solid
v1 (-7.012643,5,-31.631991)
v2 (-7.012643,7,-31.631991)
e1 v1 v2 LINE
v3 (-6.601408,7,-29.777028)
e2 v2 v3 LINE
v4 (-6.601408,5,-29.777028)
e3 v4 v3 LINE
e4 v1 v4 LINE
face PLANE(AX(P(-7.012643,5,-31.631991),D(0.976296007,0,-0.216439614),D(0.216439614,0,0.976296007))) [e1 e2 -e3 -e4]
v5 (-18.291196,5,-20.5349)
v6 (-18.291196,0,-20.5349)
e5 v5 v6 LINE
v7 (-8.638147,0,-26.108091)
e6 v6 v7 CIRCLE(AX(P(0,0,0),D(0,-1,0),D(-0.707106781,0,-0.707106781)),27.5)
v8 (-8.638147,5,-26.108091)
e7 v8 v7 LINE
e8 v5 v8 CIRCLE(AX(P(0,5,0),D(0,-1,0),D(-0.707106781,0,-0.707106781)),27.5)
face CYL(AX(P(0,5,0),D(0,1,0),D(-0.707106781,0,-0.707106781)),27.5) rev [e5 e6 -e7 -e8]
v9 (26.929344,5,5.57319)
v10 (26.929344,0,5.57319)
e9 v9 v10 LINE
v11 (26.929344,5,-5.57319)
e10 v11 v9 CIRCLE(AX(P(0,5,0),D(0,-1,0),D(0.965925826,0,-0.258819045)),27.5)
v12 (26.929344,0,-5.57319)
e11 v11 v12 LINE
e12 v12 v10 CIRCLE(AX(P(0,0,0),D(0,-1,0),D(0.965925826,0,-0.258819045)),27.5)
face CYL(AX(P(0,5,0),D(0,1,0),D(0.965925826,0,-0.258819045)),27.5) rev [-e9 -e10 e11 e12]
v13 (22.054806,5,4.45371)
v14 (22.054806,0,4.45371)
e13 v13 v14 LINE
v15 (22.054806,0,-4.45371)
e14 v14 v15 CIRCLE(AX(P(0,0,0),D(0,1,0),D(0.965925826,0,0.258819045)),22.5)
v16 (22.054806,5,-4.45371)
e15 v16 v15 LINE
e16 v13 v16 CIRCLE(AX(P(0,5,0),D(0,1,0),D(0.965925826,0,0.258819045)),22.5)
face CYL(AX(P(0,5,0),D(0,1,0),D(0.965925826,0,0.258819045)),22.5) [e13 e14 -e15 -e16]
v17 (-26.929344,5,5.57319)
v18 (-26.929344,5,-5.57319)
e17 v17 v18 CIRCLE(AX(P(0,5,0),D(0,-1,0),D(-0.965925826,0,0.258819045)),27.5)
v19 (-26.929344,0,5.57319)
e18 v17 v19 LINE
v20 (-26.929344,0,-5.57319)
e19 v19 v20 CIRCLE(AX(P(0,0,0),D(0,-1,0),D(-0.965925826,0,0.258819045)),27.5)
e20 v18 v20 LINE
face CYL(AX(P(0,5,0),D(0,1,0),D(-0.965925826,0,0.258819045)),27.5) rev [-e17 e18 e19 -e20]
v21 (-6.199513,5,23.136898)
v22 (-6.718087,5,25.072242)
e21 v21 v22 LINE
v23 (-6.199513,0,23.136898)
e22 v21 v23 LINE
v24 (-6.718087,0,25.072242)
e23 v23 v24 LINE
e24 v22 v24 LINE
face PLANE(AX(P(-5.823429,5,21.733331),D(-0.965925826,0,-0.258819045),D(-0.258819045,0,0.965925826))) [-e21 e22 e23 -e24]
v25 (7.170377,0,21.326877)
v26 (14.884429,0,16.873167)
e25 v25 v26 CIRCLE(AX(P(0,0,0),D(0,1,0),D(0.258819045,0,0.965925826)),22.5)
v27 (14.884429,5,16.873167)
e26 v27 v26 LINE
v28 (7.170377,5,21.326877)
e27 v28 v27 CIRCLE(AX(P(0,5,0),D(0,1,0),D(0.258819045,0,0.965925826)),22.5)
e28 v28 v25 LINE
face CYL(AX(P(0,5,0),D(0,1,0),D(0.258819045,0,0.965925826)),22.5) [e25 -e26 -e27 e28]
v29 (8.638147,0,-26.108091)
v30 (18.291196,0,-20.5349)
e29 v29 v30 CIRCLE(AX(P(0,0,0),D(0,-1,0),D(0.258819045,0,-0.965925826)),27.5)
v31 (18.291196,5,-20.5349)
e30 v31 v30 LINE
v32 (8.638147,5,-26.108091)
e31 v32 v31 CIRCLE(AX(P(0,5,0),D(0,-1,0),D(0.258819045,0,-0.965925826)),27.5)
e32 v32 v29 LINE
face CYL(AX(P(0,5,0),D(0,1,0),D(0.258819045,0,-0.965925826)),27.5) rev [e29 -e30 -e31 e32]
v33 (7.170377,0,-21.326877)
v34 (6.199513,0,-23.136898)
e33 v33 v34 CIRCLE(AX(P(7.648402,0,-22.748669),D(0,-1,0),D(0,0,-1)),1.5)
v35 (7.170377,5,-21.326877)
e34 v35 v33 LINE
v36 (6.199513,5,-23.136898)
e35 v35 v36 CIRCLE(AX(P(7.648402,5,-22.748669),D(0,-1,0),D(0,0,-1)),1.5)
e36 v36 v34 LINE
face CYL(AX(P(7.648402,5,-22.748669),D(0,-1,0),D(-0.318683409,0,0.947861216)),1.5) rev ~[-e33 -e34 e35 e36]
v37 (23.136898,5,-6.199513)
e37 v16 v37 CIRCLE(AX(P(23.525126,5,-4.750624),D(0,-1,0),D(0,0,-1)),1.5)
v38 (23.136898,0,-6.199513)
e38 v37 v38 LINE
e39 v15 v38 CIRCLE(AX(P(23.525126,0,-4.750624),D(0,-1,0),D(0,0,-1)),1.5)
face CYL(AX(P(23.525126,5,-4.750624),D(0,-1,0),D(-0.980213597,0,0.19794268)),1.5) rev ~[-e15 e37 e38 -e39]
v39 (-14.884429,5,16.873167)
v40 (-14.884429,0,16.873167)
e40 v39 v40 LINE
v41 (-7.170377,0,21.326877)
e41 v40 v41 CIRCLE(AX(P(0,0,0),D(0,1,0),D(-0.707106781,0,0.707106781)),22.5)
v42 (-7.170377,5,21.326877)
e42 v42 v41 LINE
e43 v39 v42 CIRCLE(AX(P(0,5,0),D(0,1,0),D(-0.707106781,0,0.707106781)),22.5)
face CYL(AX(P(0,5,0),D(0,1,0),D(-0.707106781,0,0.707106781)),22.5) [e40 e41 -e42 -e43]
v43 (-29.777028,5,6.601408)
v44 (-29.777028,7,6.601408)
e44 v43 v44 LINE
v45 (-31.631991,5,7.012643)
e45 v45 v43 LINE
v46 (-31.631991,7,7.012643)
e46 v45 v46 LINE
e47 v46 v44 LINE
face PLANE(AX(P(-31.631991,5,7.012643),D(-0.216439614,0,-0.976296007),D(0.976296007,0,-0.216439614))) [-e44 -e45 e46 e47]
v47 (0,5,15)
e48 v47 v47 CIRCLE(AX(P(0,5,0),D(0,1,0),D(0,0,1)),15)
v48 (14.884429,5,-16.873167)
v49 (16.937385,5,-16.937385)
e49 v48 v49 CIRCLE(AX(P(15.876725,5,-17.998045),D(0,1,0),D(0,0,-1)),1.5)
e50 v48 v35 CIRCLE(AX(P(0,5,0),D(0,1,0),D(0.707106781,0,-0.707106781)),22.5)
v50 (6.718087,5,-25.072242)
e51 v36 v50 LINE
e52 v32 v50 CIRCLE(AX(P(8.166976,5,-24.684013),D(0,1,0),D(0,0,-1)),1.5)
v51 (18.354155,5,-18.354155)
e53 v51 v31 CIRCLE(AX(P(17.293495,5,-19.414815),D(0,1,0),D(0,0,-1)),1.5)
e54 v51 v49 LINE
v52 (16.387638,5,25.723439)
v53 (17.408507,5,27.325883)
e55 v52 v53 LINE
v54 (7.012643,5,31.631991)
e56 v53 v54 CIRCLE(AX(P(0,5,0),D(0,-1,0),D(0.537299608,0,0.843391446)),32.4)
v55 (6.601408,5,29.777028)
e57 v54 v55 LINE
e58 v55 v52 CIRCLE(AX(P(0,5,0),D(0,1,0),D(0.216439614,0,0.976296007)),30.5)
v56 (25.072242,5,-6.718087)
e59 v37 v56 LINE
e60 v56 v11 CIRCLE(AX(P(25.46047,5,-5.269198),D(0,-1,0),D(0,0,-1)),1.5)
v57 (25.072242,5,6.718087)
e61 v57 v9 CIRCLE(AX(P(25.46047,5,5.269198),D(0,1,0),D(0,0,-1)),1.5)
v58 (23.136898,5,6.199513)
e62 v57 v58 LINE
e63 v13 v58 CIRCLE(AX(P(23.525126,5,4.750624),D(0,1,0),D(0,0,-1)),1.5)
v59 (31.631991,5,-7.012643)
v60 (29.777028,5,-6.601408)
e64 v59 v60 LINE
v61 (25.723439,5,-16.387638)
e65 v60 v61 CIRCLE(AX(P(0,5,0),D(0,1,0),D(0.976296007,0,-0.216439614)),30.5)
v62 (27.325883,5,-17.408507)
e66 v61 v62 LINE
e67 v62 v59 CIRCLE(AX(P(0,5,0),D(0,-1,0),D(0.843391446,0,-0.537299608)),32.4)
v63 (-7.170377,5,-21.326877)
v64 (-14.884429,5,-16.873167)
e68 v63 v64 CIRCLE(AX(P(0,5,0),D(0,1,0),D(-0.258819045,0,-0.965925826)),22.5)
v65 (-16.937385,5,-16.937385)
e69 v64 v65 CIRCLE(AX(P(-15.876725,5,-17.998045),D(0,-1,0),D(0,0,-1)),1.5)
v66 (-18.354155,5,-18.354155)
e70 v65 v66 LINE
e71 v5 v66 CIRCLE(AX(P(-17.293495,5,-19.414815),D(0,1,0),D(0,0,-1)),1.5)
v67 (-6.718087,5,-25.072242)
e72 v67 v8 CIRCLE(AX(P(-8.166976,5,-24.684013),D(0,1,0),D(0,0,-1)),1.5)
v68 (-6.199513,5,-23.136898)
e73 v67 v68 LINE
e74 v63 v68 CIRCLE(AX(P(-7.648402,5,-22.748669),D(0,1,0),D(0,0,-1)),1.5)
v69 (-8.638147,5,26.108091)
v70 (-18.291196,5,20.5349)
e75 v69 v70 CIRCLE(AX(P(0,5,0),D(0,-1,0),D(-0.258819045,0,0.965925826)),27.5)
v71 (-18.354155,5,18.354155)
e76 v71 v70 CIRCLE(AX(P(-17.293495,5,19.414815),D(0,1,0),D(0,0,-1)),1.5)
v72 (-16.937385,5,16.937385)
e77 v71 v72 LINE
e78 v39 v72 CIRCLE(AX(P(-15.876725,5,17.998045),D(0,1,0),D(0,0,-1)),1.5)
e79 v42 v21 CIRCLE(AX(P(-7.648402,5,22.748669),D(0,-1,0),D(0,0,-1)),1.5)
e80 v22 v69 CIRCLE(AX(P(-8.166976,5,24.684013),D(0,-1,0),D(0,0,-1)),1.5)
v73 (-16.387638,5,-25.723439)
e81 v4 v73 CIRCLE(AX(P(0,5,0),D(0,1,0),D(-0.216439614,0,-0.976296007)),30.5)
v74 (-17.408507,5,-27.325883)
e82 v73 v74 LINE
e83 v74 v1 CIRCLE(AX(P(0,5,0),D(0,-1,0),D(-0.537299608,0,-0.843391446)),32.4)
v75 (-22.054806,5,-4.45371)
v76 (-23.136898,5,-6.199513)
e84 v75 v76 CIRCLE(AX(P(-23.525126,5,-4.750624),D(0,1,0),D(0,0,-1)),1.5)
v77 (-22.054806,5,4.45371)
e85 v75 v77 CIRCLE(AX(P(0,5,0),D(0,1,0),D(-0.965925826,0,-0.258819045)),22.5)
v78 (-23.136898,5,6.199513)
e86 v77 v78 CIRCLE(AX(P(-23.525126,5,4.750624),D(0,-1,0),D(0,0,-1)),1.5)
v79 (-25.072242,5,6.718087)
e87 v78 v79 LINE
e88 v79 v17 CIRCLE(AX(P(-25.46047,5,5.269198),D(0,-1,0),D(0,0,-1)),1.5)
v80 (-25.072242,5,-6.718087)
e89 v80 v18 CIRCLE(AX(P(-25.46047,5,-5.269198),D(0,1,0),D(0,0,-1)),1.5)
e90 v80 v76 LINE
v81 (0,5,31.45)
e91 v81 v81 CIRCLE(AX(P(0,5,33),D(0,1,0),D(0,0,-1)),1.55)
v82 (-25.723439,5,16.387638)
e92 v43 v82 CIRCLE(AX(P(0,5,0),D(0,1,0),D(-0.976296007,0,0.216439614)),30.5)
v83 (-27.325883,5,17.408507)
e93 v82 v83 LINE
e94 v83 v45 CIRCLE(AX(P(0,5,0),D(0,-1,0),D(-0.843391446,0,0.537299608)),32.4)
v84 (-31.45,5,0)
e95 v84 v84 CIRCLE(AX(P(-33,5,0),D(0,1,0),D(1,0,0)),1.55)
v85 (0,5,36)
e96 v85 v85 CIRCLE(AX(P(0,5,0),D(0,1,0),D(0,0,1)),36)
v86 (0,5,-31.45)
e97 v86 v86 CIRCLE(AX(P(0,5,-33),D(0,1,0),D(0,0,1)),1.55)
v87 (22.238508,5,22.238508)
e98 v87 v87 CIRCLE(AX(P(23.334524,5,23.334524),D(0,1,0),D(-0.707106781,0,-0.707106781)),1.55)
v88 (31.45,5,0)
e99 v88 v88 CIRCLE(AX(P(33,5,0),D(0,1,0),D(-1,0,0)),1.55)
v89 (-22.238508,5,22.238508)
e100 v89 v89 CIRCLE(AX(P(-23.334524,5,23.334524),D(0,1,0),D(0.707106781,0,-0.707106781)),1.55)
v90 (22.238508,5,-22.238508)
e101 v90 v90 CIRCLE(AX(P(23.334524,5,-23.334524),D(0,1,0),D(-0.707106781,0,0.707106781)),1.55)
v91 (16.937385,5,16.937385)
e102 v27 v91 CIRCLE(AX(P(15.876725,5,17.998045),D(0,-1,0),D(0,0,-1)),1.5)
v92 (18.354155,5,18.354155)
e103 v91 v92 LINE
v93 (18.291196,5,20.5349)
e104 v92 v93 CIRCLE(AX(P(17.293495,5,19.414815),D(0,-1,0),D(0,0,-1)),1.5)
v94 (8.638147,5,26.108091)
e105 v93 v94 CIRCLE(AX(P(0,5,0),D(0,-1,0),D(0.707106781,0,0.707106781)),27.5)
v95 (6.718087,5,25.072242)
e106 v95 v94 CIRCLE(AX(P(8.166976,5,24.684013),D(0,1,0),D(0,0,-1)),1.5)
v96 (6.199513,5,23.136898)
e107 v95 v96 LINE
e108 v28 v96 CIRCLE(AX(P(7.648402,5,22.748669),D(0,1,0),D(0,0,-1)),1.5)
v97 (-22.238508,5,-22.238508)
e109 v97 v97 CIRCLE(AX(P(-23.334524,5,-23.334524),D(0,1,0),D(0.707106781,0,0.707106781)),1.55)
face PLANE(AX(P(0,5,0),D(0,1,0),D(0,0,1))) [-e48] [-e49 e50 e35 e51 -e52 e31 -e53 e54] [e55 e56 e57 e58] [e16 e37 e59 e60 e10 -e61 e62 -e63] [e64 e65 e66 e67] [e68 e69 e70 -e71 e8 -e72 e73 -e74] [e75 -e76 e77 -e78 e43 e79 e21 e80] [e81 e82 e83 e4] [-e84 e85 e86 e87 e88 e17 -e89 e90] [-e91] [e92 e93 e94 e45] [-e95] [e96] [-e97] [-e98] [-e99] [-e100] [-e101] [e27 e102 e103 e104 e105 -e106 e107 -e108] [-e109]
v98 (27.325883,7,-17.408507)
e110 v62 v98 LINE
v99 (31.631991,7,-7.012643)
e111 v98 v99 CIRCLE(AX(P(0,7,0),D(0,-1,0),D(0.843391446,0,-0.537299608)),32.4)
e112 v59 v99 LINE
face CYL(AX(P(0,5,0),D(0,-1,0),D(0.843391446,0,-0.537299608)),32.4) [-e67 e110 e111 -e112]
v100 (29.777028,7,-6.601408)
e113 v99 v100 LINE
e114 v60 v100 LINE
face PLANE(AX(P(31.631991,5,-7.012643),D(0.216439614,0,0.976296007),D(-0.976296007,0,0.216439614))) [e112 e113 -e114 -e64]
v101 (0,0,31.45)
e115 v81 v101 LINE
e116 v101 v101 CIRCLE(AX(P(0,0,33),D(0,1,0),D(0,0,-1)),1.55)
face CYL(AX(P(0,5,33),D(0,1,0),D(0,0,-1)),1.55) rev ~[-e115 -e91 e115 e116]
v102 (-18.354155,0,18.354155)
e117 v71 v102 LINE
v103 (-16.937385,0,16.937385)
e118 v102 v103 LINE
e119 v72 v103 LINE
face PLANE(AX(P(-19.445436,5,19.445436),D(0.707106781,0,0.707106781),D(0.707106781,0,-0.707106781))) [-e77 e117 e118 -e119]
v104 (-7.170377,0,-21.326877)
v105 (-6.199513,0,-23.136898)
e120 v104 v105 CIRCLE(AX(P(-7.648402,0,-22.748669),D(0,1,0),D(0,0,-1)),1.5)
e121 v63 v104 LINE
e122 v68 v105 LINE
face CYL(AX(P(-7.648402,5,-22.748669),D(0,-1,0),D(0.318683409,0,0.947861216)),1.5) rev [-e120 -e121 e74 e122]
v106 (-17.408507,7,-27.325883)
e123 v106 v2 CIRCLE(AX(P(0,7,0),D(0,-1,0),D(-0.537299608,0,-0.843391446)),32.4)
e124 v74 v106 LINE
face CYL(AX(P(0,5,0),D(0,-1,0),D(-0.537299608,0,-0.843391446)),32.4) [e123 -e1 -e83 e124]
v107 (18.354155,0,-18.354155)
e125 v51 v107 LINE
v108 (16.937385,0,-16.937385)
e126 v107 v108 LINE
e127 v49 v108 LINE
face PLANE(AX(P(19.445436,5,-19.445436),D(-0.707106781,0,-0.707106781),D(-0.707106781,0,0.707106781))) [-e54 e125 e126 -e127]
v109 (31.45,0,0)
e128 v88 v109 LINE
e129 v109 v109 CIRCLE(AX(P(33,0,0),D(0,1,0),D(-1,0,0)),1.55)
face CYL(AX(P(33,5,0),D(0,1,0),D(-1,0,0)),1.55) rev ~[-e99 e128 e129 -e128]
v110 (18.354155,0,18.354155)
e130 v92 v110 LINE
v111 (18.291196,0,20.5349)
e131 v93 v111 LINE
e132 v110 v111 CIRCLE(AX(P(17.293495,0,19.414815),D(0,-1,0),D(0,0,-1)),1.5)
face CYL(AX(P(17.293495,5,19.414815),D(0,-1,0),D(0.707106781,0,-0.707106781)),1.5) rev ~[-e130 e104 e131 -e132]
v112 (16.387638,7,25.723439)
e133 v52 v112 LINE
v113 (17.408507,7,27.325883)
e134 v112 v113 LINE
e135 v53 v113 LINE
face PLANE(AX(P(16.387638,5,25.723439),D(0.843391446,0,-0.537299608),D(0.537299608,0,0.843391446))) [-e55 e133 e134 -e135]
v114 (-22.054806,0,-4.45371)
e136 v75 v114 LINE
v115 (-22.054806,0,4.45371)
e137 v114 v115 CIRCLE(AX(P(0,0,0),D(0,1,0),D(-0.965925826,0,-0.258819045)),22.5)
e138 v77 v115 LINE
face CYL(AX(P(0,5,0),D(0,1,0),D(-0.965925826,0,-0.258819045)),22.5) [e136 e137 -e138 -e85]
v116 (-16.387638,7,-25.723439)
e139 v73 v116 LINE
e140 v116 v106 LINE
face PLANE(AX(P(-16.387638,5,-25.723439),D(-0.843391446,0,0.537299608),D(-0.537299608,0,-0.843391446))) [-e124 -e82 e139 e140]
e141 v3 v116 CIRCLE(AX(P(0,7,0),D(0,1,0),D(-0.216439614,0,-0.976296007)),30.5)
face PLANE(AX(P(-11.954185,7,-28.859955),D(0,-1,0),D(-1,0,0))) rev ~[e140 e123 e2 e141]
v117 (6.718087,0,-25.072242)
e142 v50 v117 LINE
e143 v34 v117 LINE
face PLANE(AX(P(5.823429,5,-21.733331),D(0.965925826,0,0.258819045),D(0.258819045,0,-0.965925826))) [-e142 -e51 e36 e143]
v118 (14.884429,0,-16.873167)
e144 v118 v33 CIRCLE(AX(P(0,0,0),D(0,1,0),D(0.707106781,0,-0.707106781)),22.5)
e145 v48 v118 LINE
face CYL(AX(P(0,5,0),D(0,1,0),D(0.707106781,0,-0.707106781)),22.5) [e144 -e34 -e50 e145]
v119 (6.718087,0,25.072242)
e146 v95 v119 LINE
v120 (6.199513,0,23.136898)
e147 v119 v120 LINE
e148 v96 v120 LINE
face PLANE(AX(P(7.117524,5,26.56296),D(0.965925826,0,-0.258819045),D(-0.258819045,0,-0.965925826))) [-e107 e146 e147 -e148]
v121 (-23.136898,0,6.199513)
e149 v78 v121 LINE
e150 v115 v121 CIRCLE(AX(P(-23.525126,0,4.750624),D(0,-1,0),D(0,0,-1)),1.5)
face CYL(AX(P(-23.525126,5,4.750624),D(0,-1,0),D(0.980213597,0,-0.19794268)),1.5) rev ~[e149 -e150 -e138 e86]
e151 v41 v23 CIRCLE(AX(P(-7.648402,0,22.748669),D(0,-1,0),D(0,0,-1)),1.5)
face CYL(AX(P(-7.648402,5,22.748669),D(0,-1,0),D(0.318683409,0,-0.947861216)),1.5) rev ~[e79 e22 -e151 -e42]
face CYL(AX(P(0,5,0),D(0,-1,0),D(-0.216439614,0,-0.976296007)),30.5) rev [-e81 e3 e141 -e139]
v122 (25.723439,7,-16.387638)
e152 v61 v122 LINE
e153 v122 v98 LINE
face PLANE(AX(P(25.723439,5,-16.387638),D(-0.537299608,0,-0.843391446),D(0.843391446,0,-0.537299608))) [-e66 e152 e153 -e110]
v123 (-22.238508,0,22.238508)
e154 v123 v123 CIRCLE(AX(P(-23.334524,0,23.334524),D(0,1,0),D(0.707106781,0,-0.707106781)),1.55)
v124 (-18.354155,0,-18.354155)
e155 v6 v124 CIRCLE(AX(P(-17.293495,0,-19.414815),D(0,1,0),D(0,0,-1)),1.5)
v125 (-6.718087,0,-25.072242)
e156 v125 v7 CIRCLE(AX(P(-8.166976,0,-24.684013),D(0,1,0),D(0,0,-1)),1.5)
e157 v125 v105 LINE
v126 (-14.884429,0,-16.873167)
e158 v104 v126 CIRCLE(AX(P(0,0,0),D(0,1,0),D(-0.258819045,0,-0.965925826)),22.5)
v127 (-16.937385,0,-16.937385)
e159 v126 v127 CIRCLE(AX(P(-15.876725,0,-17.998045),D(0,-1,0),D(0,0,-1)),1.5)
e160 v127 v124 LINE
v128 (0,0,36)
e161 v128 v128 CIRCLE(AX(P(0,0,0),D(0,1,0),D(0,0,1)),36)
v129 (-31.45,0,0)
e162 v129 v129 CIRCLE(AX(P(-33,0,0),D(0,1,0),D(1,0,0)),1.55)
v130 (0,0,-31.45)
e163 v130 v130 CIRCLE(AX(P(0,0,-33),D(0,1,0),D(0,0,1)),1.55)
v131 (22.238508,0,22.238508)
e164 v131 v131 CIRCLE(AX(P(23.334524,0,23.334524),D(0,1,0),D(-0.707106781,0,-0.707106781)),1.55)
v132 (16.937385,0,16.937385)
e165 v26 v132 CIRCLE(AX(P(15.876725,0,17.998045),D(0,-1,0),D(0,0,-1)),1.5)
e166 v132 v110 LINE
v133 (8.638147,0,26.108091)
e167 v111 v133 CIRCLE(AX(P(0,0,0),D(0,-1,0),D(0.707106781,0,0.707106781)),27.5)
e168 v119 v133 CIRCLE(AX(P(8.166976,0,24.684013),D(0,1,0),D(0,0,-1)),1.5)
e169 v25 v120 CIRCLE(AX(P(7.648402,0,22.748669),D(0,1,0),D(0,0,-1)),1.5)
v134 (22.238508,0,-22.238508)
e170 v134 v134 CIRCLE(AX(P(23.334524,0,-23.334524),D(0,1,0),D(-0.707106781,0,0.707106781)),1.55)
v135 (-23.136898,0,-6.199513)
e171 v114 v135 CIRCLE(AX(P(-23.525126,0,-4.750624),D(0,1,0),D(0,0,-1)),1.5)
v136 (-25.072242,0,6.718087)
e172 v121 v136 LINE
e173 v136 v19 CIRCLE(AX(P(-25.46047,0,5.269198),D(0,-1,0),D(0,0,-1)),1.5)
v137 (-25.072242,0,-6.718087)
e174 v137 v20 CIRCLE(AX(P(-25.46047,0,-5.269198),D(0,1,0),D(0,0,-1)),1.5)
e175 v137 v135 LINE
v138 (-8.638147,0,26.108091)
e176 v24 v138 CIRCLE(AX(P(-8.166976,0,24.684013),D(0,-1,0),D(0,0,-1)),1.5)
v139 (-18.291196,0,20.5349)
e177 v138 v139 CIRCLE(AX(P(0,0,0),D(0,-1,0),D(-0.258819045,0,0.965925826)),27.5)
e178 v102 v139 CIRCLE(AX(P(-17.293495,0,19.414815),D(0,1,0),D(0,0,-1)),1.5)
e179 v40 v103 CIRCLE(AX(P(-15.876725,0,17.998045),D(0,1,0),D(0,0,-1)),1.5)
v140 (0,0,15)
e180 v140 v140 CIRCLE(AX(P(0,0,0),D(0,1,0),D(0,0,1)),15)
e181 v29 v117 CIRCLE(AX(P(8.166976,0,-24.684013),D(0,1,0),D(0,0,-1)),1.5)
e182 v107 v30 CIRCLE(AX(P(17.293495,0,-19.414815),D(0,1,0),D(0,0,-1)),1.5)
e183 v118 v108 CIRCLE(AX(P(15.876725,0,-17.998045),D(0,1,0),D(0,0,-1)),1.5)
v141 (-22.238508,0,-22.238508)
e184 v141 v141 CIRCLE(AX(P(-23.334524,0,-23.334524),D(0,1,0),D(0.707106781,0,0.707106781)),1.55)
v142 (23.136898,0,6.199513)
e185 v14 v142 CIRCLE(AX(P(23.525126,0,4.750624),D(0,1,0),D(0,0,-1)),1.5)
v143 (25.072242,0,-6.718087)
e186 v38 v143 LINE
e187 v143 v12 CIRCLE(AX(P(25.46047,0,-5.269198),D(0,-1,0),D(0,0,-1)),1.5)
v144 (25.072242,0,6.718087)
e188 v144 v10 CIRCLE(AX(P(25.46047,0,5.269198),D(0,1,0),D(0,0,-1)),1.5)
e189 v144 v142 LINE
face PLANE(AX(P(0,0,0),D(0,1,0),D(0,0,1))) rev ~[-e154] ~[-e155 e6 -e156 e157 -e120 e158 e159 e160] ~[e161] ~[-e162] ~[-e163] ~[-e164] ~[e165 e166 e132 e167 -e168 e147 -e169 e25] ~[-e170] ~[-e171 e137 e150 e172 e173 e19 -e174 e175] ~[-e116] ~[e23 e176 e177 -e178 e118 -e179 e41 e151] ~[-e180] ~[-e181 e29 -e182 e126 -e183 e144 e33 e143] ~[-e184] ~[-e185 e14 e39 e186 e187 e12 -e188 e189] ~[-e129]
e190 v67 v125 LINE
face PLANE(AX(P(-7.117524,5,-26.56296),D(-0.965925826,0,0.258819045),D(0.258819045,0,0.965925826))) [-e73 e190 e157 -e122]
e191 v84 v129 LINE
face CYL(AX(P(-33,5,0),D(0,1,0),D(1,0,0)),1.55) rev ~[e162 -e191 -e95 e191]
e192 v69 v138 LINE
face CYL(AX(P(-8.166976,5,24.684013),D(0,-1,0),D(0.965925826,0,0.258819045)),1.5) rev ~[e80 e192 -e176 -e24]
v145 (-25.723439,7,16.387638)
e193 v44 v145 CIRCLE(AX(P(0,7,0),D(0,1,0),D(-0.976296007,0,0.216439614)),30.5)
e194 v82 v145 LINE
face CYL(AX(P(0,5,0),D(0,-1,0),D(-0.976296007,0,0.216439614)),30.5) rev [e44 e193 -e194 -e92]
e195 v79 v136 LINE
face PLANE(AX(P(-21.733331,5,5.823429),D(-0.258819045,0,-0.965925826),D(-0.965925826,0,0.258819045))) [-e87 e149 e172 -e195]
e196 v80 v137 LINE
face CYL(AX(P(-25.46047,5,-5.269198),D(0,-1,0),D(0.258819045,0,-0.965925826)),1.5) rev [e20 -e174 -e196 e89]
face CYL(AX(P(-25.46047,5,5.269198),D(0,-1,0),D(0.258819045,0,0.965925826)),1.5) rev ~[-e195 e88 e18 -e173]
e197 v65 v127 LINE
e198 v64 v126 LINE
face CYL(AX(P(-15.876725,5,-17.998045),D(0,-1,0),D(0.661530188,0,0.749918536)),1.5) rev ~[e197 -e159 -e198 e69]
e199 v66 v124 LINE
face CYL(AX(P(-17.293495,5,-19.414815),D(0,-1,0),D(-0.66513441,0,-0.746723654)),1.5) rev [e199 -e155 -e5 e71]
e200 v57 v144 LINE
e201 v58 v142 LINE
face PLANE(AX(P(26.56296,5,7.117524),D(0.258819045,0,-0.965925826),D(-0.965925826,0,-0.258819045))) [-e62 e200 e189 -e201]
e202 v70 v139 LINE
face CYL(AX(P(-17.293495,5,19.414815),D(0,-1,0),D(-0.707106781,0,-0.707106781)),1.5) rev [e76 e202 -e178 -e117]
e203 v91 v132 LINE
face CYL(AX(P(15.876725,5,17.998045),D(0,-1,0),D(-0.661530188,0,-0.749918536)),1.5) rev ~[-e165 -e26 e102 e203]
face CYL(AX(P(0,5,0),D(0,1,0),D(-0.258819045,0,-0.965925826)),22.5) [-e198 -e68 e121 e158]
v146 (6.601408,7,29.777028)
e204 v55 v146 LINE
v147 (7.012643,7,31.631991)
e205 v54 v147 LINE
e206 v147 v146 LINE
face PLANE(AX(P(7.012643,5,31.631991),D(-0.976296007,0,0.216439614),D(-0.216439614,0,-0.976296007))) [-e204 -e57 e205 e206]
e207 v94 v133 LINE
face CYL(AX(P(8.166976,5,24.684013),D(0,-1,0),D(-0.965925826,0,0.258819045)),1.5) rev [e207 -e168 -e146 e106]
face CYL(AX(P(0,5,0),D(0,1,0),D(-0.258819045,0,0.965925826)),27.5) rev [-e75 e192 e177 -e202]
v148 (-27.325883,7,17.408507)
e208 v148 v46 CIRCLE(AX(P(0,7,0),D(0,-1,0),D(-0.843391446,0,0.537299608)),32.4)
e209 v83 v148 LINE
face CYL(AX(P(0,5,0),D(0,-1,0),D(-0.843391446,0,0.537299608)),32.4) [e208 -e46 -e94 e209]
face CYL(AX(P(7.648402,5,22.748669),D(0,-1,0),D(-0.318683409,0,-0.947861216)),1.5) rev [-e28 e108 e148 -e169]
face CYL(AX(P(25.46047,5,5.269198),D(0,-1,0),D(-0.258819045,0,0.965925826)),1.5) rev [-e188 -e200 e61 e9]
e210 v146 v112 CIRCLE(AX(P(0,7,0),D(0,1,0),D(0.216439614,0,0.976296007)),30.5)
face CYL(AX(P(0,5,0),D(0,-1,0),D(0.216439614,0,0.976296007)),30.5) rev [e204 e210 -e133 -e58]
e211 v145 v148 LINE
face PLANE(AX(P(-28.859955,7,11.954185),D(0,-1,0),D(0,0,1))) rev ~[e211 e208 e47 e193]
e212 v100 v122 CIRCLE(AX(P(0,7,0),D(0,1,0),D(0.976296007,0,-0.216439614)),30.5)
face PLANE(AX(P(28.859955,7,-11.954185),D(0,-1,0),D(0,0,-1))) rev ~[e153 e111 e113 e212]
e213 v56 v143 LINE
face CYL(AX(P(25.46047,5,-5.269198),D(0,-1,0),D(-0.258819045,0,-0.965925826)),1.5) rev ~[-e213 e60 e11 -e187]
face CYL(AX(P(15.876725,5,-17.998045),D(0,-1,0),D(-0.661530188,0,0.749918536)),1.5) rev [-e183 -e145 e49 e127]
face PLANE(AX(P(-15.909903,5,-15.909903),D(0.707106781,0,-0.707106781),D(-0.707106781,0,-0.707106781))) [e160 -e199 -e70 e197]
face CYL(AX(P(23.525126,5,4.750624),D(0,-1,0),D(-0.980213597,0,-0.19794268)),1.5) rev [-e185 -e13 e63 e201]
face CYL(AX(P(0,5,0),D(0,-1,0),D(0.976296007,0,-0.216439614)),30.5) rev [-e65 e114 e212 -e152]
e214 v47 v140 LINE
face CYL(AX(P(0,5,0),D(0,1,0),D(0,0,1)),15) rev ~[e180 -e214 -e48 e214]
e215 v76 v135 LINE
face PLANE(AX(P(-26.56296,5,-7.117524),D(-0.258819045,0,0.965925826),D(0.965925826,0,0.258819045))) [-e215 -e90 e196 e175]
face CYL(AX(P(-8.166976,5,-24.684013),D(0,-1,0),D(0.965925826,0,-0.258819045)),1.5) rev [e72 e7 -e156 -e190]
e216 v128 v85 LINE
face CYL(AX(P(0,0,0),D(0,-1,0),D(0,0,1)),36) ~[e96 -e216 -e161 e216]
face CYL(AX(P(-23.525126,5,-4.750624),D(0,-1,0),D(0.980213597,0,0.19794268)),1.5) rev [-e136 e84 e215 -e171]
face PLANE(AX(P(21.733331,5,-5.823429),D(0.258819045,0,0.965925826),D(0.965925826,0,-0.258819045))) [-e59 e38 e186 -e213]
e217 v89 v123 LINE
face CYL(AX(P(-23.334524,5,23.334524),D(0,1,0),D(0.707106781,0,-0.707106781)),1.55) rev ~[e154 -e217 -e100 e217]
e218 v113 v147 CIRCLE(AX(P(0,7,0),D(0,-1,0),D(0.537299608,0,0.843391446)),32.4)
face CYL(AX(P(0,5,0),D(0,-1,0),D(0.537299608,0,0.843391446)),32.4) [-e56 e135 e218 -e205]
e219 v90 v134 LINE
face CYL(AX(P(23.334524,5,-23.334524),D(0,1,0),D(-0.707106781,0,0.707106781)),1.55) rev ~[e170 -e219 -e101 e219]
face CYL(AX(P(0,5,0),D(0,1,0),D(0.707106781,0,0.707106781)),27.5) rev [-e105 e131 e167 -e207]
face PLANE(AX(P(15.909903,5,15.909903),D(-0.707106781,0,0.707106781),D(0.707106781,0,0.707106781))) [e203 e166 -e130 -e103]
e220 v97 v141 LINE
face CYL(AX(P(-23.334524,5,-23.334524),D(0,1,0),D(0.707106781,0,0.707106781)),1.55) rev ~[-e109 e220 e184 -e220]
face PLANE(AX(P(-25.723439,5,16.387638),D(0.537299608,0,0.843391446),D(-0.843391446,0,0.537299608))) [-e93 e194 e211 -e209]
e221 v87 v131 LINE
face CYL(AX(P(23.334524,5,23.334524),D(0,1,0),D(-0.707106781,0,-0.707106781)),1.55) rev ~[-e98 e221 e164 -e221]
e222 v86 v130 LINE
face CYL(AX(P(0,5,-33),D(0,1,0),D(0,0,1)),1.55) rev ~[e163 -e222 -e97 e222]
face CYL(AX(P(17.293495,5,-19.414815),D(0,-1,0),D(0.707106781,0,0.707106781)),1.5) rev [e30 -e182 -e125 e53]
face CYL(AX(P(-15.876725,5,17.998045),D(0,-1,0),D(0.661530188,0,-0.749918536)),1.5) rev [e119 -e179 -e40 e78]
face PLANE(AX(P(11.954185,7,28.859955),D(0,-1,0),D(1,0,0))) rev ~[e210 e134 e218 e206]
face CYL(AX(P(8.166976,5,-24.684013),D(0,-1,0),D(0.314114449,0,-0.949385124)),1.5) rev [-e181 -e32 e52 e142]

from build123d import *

# Parameters (mm, degrees)
SKETCH1_R                = 36
BOSS_EXTRUDE1_DEPTH      = 5
SKETCH2_R                = 15
CUT_EXTRUDE1_DEPTH       = 5
CUT_EXTRUDE3_DEPTH       = 5
FILLET1_R                = 1.5
CIRPATTERN1_COUNT        = 6
FILLET1_OF_CIRPATTERN1_R = 1.5
SKETCH4_R                = 1.55
CUT_EXTRUDE4_DEPTH       = 5
CIRPATTERN2_COUNT        = 8
BOSS_EXTRUDE2_DEPTH      = 2
CIRPATTERN3_COUNT        = 4


with BuildPart() as part:
    # Sketch1 → Boss-Extrude1 (new body)
    with BuildSketch(Plane(origin=(0, 0, 0), x_dir=(1, 0, 0), z_dir=(0, 1, 0))):
        with Locations(Location((0, 0, 0), (0, 0, 270))):
            Circle(SKETCH1_R)
    extrude(amount=BOSS_EXTRUDE1_DEPTH)

    # Sketch2 → Cut-Extrude1 (cut)
    with BuildSketch(Plane(origin=(0, 5, 0), x_dir=(1, 0, 0), z_dir=(0, 1, 0))):
        with Locations(Location((0, 0, 0), (0, 0, 270))):
            Circle(SKETCH2_R)
    extrude(amount=-CUT_EXTRUDE1_DEPTH, mode=Mode.SUBTRACT)

    # Sketch3 → Cut-Extrude3 (cut)
    with BuildSketch(Plane(origin=(0, 5, 0), x_dir=(1, 0, 0), z_dir=(0, 1, 0))):
        with BuildLine():
            Line((-15.909902577, 15.909902577), (-19.445436483, 19.445436483))
            ThreePointArc((-19.445436483, 19.445436483), (-13.75, 23.815698604), (-7.11752374, 26.562960223))
            Line((-7.11752374, 26.562960223), (-5.823428515, 21.733331092))
            ThreePointArc((-5.823428515, 21.733331092), (-11.25, 19.485571585), (-15.909902577, 15.909902577))
        make_face()
    cut_extrude3 = extrude(amount=-CUT_EXTRUDE3_DEPTH, mode=Mode.SUBTRACT)

    # Fillet1
    fillet1_edges = [part.edges().sort_by_distance(p)[0] for p in [
        (-19.445436483, 2.5, -19.445436483),
        (-7.11752374, 2.5, -26.562960223),
        (-5.823428515, 2.5, -21.733331092),
        (-15.909902577, 2.5, -15.909902577),
    ]]
    fillet(fillet1_edges, radius=FILLET1_R)

    # CirPattern1: Cut-Extrude3 ×6 about axis
    cirpattern1_axis = Axis((0, 0, 0), (0, 1, 0))
    for i in range(1, CIRPATTERN1_COUNT):
        add(cut_extrude3.rotate(cirpattern1_axis, i * 360 / CIRPATTERN1_COUNT), mode=Mode.SUBTRACT)

    # Fillet1 of CirPattern1
    fillet1_of_cirpattern1_edges = [part.edges().sort_by_distance(p)[0] for p in [
        (-26.562960223, 2.5, 7.11752374),
        (-26.562960223, 2.5, -7.11752374),
        (-21.733331092, 2.5, -5.823428515),
        (-21.733331092, 2.5, 5.823428515),
        (-7.11752374, 2.5, 26.562960223),
        (-19.445436483, 2.5, 19.445436483),
        (-15.909902577, 2.5, 15.909902577),
        (-5.823428515, 2.5, 21.733331092),
        (19.445436483, 2.5, 19.445436483),
        (7.11752374, 2.5, 26.562960223),
        (5.823428515, 2.5, 21.733331092),
        (15.909902577, 2.5, 15.909902577),
        (26.562960223, 2.5, -7.11752374),
        (26.562960223, 2.5, 7.11752374),
        (21.733331092, 2.5, 5.823428515),
        (21.733331092, 2.5, -5.823428515),
        (7.11752374, 2.5, -26.562960223),
        (19.445436483, 2.5, -19.445436483),
        (15.909902577, 2.5, -15.909902577),
        (5.823428515, 2.5, -21.733331092),
    ]]
    fillet(fillet1_of_cirpattern1_edges, radius=FILLET1_OF_CIRPATTERN1_R)

    # Sketch4 → Cut-Extrude4 (cut)
    with BuildSketch(Plane(origin=(0, 5, 0), x_dir=(1, 0, 0), z_dir=(0, 1, 0))):
        with Locations(Location((0, 33, 0), (0, 0, 270))):
            Circle(SKETCH4_R)
    cut_extrude4 = extrude(amount=-CUT_EXTRUDE4_DEPTH, mode=Mode.SUBTRACT)

    # CirPattern2: Cut-Extrude4 ×8 about axis
    cirpattern2_axis = Axis((0, 0, 0), (0, 1, 0))
    for i in range(1, CIRPATTERN2_COUNT):
        add(cut_extrude4.rotate(cirpattern2_axis, i * 360 / CIRPATTERN2_COUNT), mode=Mode.SUBTRACT)

    # Sketch6 → Boss-Extrude2 (add)
    with BuildSketch(Plane(origin=(0, 5, 0), x_dir=(1, 0, 0), z_dir=(0, 1, 0))):
        with BuildLine():
            Line((-16.387638055, 25.723439097), (-17.40850731, 27.325882844))
            ThreePointArc((-17.40850731, 27.325882844), (-12.398943209, 29.933696853), (-7.012643492, 31.631990631))
            Line((-7.012643492, 31.631990631), (-6.601408225, 29.777028217))
            ThreePointArc((-6.601408225, 29.777028217), (-11.671844687, 28.178325742), (-16.387638055, 25.723439097))
        make_face()
    boss_extrude2 = extrude(amount=BOSS_EXTRUDE2_DEPTH)

    # CirPattern3: Boss-Extrude2 ×4 about axis
    cirpattern3_axis = Axis((0, 5, 0), (0, -1, 0))
    for i in range(1, CIRPATTERN3_COUNT):
        add(boss_extrude2.rotate(cirpattern3_axis, i * 360 / CIRPATTERN3_COUNT))


solid = part.part
